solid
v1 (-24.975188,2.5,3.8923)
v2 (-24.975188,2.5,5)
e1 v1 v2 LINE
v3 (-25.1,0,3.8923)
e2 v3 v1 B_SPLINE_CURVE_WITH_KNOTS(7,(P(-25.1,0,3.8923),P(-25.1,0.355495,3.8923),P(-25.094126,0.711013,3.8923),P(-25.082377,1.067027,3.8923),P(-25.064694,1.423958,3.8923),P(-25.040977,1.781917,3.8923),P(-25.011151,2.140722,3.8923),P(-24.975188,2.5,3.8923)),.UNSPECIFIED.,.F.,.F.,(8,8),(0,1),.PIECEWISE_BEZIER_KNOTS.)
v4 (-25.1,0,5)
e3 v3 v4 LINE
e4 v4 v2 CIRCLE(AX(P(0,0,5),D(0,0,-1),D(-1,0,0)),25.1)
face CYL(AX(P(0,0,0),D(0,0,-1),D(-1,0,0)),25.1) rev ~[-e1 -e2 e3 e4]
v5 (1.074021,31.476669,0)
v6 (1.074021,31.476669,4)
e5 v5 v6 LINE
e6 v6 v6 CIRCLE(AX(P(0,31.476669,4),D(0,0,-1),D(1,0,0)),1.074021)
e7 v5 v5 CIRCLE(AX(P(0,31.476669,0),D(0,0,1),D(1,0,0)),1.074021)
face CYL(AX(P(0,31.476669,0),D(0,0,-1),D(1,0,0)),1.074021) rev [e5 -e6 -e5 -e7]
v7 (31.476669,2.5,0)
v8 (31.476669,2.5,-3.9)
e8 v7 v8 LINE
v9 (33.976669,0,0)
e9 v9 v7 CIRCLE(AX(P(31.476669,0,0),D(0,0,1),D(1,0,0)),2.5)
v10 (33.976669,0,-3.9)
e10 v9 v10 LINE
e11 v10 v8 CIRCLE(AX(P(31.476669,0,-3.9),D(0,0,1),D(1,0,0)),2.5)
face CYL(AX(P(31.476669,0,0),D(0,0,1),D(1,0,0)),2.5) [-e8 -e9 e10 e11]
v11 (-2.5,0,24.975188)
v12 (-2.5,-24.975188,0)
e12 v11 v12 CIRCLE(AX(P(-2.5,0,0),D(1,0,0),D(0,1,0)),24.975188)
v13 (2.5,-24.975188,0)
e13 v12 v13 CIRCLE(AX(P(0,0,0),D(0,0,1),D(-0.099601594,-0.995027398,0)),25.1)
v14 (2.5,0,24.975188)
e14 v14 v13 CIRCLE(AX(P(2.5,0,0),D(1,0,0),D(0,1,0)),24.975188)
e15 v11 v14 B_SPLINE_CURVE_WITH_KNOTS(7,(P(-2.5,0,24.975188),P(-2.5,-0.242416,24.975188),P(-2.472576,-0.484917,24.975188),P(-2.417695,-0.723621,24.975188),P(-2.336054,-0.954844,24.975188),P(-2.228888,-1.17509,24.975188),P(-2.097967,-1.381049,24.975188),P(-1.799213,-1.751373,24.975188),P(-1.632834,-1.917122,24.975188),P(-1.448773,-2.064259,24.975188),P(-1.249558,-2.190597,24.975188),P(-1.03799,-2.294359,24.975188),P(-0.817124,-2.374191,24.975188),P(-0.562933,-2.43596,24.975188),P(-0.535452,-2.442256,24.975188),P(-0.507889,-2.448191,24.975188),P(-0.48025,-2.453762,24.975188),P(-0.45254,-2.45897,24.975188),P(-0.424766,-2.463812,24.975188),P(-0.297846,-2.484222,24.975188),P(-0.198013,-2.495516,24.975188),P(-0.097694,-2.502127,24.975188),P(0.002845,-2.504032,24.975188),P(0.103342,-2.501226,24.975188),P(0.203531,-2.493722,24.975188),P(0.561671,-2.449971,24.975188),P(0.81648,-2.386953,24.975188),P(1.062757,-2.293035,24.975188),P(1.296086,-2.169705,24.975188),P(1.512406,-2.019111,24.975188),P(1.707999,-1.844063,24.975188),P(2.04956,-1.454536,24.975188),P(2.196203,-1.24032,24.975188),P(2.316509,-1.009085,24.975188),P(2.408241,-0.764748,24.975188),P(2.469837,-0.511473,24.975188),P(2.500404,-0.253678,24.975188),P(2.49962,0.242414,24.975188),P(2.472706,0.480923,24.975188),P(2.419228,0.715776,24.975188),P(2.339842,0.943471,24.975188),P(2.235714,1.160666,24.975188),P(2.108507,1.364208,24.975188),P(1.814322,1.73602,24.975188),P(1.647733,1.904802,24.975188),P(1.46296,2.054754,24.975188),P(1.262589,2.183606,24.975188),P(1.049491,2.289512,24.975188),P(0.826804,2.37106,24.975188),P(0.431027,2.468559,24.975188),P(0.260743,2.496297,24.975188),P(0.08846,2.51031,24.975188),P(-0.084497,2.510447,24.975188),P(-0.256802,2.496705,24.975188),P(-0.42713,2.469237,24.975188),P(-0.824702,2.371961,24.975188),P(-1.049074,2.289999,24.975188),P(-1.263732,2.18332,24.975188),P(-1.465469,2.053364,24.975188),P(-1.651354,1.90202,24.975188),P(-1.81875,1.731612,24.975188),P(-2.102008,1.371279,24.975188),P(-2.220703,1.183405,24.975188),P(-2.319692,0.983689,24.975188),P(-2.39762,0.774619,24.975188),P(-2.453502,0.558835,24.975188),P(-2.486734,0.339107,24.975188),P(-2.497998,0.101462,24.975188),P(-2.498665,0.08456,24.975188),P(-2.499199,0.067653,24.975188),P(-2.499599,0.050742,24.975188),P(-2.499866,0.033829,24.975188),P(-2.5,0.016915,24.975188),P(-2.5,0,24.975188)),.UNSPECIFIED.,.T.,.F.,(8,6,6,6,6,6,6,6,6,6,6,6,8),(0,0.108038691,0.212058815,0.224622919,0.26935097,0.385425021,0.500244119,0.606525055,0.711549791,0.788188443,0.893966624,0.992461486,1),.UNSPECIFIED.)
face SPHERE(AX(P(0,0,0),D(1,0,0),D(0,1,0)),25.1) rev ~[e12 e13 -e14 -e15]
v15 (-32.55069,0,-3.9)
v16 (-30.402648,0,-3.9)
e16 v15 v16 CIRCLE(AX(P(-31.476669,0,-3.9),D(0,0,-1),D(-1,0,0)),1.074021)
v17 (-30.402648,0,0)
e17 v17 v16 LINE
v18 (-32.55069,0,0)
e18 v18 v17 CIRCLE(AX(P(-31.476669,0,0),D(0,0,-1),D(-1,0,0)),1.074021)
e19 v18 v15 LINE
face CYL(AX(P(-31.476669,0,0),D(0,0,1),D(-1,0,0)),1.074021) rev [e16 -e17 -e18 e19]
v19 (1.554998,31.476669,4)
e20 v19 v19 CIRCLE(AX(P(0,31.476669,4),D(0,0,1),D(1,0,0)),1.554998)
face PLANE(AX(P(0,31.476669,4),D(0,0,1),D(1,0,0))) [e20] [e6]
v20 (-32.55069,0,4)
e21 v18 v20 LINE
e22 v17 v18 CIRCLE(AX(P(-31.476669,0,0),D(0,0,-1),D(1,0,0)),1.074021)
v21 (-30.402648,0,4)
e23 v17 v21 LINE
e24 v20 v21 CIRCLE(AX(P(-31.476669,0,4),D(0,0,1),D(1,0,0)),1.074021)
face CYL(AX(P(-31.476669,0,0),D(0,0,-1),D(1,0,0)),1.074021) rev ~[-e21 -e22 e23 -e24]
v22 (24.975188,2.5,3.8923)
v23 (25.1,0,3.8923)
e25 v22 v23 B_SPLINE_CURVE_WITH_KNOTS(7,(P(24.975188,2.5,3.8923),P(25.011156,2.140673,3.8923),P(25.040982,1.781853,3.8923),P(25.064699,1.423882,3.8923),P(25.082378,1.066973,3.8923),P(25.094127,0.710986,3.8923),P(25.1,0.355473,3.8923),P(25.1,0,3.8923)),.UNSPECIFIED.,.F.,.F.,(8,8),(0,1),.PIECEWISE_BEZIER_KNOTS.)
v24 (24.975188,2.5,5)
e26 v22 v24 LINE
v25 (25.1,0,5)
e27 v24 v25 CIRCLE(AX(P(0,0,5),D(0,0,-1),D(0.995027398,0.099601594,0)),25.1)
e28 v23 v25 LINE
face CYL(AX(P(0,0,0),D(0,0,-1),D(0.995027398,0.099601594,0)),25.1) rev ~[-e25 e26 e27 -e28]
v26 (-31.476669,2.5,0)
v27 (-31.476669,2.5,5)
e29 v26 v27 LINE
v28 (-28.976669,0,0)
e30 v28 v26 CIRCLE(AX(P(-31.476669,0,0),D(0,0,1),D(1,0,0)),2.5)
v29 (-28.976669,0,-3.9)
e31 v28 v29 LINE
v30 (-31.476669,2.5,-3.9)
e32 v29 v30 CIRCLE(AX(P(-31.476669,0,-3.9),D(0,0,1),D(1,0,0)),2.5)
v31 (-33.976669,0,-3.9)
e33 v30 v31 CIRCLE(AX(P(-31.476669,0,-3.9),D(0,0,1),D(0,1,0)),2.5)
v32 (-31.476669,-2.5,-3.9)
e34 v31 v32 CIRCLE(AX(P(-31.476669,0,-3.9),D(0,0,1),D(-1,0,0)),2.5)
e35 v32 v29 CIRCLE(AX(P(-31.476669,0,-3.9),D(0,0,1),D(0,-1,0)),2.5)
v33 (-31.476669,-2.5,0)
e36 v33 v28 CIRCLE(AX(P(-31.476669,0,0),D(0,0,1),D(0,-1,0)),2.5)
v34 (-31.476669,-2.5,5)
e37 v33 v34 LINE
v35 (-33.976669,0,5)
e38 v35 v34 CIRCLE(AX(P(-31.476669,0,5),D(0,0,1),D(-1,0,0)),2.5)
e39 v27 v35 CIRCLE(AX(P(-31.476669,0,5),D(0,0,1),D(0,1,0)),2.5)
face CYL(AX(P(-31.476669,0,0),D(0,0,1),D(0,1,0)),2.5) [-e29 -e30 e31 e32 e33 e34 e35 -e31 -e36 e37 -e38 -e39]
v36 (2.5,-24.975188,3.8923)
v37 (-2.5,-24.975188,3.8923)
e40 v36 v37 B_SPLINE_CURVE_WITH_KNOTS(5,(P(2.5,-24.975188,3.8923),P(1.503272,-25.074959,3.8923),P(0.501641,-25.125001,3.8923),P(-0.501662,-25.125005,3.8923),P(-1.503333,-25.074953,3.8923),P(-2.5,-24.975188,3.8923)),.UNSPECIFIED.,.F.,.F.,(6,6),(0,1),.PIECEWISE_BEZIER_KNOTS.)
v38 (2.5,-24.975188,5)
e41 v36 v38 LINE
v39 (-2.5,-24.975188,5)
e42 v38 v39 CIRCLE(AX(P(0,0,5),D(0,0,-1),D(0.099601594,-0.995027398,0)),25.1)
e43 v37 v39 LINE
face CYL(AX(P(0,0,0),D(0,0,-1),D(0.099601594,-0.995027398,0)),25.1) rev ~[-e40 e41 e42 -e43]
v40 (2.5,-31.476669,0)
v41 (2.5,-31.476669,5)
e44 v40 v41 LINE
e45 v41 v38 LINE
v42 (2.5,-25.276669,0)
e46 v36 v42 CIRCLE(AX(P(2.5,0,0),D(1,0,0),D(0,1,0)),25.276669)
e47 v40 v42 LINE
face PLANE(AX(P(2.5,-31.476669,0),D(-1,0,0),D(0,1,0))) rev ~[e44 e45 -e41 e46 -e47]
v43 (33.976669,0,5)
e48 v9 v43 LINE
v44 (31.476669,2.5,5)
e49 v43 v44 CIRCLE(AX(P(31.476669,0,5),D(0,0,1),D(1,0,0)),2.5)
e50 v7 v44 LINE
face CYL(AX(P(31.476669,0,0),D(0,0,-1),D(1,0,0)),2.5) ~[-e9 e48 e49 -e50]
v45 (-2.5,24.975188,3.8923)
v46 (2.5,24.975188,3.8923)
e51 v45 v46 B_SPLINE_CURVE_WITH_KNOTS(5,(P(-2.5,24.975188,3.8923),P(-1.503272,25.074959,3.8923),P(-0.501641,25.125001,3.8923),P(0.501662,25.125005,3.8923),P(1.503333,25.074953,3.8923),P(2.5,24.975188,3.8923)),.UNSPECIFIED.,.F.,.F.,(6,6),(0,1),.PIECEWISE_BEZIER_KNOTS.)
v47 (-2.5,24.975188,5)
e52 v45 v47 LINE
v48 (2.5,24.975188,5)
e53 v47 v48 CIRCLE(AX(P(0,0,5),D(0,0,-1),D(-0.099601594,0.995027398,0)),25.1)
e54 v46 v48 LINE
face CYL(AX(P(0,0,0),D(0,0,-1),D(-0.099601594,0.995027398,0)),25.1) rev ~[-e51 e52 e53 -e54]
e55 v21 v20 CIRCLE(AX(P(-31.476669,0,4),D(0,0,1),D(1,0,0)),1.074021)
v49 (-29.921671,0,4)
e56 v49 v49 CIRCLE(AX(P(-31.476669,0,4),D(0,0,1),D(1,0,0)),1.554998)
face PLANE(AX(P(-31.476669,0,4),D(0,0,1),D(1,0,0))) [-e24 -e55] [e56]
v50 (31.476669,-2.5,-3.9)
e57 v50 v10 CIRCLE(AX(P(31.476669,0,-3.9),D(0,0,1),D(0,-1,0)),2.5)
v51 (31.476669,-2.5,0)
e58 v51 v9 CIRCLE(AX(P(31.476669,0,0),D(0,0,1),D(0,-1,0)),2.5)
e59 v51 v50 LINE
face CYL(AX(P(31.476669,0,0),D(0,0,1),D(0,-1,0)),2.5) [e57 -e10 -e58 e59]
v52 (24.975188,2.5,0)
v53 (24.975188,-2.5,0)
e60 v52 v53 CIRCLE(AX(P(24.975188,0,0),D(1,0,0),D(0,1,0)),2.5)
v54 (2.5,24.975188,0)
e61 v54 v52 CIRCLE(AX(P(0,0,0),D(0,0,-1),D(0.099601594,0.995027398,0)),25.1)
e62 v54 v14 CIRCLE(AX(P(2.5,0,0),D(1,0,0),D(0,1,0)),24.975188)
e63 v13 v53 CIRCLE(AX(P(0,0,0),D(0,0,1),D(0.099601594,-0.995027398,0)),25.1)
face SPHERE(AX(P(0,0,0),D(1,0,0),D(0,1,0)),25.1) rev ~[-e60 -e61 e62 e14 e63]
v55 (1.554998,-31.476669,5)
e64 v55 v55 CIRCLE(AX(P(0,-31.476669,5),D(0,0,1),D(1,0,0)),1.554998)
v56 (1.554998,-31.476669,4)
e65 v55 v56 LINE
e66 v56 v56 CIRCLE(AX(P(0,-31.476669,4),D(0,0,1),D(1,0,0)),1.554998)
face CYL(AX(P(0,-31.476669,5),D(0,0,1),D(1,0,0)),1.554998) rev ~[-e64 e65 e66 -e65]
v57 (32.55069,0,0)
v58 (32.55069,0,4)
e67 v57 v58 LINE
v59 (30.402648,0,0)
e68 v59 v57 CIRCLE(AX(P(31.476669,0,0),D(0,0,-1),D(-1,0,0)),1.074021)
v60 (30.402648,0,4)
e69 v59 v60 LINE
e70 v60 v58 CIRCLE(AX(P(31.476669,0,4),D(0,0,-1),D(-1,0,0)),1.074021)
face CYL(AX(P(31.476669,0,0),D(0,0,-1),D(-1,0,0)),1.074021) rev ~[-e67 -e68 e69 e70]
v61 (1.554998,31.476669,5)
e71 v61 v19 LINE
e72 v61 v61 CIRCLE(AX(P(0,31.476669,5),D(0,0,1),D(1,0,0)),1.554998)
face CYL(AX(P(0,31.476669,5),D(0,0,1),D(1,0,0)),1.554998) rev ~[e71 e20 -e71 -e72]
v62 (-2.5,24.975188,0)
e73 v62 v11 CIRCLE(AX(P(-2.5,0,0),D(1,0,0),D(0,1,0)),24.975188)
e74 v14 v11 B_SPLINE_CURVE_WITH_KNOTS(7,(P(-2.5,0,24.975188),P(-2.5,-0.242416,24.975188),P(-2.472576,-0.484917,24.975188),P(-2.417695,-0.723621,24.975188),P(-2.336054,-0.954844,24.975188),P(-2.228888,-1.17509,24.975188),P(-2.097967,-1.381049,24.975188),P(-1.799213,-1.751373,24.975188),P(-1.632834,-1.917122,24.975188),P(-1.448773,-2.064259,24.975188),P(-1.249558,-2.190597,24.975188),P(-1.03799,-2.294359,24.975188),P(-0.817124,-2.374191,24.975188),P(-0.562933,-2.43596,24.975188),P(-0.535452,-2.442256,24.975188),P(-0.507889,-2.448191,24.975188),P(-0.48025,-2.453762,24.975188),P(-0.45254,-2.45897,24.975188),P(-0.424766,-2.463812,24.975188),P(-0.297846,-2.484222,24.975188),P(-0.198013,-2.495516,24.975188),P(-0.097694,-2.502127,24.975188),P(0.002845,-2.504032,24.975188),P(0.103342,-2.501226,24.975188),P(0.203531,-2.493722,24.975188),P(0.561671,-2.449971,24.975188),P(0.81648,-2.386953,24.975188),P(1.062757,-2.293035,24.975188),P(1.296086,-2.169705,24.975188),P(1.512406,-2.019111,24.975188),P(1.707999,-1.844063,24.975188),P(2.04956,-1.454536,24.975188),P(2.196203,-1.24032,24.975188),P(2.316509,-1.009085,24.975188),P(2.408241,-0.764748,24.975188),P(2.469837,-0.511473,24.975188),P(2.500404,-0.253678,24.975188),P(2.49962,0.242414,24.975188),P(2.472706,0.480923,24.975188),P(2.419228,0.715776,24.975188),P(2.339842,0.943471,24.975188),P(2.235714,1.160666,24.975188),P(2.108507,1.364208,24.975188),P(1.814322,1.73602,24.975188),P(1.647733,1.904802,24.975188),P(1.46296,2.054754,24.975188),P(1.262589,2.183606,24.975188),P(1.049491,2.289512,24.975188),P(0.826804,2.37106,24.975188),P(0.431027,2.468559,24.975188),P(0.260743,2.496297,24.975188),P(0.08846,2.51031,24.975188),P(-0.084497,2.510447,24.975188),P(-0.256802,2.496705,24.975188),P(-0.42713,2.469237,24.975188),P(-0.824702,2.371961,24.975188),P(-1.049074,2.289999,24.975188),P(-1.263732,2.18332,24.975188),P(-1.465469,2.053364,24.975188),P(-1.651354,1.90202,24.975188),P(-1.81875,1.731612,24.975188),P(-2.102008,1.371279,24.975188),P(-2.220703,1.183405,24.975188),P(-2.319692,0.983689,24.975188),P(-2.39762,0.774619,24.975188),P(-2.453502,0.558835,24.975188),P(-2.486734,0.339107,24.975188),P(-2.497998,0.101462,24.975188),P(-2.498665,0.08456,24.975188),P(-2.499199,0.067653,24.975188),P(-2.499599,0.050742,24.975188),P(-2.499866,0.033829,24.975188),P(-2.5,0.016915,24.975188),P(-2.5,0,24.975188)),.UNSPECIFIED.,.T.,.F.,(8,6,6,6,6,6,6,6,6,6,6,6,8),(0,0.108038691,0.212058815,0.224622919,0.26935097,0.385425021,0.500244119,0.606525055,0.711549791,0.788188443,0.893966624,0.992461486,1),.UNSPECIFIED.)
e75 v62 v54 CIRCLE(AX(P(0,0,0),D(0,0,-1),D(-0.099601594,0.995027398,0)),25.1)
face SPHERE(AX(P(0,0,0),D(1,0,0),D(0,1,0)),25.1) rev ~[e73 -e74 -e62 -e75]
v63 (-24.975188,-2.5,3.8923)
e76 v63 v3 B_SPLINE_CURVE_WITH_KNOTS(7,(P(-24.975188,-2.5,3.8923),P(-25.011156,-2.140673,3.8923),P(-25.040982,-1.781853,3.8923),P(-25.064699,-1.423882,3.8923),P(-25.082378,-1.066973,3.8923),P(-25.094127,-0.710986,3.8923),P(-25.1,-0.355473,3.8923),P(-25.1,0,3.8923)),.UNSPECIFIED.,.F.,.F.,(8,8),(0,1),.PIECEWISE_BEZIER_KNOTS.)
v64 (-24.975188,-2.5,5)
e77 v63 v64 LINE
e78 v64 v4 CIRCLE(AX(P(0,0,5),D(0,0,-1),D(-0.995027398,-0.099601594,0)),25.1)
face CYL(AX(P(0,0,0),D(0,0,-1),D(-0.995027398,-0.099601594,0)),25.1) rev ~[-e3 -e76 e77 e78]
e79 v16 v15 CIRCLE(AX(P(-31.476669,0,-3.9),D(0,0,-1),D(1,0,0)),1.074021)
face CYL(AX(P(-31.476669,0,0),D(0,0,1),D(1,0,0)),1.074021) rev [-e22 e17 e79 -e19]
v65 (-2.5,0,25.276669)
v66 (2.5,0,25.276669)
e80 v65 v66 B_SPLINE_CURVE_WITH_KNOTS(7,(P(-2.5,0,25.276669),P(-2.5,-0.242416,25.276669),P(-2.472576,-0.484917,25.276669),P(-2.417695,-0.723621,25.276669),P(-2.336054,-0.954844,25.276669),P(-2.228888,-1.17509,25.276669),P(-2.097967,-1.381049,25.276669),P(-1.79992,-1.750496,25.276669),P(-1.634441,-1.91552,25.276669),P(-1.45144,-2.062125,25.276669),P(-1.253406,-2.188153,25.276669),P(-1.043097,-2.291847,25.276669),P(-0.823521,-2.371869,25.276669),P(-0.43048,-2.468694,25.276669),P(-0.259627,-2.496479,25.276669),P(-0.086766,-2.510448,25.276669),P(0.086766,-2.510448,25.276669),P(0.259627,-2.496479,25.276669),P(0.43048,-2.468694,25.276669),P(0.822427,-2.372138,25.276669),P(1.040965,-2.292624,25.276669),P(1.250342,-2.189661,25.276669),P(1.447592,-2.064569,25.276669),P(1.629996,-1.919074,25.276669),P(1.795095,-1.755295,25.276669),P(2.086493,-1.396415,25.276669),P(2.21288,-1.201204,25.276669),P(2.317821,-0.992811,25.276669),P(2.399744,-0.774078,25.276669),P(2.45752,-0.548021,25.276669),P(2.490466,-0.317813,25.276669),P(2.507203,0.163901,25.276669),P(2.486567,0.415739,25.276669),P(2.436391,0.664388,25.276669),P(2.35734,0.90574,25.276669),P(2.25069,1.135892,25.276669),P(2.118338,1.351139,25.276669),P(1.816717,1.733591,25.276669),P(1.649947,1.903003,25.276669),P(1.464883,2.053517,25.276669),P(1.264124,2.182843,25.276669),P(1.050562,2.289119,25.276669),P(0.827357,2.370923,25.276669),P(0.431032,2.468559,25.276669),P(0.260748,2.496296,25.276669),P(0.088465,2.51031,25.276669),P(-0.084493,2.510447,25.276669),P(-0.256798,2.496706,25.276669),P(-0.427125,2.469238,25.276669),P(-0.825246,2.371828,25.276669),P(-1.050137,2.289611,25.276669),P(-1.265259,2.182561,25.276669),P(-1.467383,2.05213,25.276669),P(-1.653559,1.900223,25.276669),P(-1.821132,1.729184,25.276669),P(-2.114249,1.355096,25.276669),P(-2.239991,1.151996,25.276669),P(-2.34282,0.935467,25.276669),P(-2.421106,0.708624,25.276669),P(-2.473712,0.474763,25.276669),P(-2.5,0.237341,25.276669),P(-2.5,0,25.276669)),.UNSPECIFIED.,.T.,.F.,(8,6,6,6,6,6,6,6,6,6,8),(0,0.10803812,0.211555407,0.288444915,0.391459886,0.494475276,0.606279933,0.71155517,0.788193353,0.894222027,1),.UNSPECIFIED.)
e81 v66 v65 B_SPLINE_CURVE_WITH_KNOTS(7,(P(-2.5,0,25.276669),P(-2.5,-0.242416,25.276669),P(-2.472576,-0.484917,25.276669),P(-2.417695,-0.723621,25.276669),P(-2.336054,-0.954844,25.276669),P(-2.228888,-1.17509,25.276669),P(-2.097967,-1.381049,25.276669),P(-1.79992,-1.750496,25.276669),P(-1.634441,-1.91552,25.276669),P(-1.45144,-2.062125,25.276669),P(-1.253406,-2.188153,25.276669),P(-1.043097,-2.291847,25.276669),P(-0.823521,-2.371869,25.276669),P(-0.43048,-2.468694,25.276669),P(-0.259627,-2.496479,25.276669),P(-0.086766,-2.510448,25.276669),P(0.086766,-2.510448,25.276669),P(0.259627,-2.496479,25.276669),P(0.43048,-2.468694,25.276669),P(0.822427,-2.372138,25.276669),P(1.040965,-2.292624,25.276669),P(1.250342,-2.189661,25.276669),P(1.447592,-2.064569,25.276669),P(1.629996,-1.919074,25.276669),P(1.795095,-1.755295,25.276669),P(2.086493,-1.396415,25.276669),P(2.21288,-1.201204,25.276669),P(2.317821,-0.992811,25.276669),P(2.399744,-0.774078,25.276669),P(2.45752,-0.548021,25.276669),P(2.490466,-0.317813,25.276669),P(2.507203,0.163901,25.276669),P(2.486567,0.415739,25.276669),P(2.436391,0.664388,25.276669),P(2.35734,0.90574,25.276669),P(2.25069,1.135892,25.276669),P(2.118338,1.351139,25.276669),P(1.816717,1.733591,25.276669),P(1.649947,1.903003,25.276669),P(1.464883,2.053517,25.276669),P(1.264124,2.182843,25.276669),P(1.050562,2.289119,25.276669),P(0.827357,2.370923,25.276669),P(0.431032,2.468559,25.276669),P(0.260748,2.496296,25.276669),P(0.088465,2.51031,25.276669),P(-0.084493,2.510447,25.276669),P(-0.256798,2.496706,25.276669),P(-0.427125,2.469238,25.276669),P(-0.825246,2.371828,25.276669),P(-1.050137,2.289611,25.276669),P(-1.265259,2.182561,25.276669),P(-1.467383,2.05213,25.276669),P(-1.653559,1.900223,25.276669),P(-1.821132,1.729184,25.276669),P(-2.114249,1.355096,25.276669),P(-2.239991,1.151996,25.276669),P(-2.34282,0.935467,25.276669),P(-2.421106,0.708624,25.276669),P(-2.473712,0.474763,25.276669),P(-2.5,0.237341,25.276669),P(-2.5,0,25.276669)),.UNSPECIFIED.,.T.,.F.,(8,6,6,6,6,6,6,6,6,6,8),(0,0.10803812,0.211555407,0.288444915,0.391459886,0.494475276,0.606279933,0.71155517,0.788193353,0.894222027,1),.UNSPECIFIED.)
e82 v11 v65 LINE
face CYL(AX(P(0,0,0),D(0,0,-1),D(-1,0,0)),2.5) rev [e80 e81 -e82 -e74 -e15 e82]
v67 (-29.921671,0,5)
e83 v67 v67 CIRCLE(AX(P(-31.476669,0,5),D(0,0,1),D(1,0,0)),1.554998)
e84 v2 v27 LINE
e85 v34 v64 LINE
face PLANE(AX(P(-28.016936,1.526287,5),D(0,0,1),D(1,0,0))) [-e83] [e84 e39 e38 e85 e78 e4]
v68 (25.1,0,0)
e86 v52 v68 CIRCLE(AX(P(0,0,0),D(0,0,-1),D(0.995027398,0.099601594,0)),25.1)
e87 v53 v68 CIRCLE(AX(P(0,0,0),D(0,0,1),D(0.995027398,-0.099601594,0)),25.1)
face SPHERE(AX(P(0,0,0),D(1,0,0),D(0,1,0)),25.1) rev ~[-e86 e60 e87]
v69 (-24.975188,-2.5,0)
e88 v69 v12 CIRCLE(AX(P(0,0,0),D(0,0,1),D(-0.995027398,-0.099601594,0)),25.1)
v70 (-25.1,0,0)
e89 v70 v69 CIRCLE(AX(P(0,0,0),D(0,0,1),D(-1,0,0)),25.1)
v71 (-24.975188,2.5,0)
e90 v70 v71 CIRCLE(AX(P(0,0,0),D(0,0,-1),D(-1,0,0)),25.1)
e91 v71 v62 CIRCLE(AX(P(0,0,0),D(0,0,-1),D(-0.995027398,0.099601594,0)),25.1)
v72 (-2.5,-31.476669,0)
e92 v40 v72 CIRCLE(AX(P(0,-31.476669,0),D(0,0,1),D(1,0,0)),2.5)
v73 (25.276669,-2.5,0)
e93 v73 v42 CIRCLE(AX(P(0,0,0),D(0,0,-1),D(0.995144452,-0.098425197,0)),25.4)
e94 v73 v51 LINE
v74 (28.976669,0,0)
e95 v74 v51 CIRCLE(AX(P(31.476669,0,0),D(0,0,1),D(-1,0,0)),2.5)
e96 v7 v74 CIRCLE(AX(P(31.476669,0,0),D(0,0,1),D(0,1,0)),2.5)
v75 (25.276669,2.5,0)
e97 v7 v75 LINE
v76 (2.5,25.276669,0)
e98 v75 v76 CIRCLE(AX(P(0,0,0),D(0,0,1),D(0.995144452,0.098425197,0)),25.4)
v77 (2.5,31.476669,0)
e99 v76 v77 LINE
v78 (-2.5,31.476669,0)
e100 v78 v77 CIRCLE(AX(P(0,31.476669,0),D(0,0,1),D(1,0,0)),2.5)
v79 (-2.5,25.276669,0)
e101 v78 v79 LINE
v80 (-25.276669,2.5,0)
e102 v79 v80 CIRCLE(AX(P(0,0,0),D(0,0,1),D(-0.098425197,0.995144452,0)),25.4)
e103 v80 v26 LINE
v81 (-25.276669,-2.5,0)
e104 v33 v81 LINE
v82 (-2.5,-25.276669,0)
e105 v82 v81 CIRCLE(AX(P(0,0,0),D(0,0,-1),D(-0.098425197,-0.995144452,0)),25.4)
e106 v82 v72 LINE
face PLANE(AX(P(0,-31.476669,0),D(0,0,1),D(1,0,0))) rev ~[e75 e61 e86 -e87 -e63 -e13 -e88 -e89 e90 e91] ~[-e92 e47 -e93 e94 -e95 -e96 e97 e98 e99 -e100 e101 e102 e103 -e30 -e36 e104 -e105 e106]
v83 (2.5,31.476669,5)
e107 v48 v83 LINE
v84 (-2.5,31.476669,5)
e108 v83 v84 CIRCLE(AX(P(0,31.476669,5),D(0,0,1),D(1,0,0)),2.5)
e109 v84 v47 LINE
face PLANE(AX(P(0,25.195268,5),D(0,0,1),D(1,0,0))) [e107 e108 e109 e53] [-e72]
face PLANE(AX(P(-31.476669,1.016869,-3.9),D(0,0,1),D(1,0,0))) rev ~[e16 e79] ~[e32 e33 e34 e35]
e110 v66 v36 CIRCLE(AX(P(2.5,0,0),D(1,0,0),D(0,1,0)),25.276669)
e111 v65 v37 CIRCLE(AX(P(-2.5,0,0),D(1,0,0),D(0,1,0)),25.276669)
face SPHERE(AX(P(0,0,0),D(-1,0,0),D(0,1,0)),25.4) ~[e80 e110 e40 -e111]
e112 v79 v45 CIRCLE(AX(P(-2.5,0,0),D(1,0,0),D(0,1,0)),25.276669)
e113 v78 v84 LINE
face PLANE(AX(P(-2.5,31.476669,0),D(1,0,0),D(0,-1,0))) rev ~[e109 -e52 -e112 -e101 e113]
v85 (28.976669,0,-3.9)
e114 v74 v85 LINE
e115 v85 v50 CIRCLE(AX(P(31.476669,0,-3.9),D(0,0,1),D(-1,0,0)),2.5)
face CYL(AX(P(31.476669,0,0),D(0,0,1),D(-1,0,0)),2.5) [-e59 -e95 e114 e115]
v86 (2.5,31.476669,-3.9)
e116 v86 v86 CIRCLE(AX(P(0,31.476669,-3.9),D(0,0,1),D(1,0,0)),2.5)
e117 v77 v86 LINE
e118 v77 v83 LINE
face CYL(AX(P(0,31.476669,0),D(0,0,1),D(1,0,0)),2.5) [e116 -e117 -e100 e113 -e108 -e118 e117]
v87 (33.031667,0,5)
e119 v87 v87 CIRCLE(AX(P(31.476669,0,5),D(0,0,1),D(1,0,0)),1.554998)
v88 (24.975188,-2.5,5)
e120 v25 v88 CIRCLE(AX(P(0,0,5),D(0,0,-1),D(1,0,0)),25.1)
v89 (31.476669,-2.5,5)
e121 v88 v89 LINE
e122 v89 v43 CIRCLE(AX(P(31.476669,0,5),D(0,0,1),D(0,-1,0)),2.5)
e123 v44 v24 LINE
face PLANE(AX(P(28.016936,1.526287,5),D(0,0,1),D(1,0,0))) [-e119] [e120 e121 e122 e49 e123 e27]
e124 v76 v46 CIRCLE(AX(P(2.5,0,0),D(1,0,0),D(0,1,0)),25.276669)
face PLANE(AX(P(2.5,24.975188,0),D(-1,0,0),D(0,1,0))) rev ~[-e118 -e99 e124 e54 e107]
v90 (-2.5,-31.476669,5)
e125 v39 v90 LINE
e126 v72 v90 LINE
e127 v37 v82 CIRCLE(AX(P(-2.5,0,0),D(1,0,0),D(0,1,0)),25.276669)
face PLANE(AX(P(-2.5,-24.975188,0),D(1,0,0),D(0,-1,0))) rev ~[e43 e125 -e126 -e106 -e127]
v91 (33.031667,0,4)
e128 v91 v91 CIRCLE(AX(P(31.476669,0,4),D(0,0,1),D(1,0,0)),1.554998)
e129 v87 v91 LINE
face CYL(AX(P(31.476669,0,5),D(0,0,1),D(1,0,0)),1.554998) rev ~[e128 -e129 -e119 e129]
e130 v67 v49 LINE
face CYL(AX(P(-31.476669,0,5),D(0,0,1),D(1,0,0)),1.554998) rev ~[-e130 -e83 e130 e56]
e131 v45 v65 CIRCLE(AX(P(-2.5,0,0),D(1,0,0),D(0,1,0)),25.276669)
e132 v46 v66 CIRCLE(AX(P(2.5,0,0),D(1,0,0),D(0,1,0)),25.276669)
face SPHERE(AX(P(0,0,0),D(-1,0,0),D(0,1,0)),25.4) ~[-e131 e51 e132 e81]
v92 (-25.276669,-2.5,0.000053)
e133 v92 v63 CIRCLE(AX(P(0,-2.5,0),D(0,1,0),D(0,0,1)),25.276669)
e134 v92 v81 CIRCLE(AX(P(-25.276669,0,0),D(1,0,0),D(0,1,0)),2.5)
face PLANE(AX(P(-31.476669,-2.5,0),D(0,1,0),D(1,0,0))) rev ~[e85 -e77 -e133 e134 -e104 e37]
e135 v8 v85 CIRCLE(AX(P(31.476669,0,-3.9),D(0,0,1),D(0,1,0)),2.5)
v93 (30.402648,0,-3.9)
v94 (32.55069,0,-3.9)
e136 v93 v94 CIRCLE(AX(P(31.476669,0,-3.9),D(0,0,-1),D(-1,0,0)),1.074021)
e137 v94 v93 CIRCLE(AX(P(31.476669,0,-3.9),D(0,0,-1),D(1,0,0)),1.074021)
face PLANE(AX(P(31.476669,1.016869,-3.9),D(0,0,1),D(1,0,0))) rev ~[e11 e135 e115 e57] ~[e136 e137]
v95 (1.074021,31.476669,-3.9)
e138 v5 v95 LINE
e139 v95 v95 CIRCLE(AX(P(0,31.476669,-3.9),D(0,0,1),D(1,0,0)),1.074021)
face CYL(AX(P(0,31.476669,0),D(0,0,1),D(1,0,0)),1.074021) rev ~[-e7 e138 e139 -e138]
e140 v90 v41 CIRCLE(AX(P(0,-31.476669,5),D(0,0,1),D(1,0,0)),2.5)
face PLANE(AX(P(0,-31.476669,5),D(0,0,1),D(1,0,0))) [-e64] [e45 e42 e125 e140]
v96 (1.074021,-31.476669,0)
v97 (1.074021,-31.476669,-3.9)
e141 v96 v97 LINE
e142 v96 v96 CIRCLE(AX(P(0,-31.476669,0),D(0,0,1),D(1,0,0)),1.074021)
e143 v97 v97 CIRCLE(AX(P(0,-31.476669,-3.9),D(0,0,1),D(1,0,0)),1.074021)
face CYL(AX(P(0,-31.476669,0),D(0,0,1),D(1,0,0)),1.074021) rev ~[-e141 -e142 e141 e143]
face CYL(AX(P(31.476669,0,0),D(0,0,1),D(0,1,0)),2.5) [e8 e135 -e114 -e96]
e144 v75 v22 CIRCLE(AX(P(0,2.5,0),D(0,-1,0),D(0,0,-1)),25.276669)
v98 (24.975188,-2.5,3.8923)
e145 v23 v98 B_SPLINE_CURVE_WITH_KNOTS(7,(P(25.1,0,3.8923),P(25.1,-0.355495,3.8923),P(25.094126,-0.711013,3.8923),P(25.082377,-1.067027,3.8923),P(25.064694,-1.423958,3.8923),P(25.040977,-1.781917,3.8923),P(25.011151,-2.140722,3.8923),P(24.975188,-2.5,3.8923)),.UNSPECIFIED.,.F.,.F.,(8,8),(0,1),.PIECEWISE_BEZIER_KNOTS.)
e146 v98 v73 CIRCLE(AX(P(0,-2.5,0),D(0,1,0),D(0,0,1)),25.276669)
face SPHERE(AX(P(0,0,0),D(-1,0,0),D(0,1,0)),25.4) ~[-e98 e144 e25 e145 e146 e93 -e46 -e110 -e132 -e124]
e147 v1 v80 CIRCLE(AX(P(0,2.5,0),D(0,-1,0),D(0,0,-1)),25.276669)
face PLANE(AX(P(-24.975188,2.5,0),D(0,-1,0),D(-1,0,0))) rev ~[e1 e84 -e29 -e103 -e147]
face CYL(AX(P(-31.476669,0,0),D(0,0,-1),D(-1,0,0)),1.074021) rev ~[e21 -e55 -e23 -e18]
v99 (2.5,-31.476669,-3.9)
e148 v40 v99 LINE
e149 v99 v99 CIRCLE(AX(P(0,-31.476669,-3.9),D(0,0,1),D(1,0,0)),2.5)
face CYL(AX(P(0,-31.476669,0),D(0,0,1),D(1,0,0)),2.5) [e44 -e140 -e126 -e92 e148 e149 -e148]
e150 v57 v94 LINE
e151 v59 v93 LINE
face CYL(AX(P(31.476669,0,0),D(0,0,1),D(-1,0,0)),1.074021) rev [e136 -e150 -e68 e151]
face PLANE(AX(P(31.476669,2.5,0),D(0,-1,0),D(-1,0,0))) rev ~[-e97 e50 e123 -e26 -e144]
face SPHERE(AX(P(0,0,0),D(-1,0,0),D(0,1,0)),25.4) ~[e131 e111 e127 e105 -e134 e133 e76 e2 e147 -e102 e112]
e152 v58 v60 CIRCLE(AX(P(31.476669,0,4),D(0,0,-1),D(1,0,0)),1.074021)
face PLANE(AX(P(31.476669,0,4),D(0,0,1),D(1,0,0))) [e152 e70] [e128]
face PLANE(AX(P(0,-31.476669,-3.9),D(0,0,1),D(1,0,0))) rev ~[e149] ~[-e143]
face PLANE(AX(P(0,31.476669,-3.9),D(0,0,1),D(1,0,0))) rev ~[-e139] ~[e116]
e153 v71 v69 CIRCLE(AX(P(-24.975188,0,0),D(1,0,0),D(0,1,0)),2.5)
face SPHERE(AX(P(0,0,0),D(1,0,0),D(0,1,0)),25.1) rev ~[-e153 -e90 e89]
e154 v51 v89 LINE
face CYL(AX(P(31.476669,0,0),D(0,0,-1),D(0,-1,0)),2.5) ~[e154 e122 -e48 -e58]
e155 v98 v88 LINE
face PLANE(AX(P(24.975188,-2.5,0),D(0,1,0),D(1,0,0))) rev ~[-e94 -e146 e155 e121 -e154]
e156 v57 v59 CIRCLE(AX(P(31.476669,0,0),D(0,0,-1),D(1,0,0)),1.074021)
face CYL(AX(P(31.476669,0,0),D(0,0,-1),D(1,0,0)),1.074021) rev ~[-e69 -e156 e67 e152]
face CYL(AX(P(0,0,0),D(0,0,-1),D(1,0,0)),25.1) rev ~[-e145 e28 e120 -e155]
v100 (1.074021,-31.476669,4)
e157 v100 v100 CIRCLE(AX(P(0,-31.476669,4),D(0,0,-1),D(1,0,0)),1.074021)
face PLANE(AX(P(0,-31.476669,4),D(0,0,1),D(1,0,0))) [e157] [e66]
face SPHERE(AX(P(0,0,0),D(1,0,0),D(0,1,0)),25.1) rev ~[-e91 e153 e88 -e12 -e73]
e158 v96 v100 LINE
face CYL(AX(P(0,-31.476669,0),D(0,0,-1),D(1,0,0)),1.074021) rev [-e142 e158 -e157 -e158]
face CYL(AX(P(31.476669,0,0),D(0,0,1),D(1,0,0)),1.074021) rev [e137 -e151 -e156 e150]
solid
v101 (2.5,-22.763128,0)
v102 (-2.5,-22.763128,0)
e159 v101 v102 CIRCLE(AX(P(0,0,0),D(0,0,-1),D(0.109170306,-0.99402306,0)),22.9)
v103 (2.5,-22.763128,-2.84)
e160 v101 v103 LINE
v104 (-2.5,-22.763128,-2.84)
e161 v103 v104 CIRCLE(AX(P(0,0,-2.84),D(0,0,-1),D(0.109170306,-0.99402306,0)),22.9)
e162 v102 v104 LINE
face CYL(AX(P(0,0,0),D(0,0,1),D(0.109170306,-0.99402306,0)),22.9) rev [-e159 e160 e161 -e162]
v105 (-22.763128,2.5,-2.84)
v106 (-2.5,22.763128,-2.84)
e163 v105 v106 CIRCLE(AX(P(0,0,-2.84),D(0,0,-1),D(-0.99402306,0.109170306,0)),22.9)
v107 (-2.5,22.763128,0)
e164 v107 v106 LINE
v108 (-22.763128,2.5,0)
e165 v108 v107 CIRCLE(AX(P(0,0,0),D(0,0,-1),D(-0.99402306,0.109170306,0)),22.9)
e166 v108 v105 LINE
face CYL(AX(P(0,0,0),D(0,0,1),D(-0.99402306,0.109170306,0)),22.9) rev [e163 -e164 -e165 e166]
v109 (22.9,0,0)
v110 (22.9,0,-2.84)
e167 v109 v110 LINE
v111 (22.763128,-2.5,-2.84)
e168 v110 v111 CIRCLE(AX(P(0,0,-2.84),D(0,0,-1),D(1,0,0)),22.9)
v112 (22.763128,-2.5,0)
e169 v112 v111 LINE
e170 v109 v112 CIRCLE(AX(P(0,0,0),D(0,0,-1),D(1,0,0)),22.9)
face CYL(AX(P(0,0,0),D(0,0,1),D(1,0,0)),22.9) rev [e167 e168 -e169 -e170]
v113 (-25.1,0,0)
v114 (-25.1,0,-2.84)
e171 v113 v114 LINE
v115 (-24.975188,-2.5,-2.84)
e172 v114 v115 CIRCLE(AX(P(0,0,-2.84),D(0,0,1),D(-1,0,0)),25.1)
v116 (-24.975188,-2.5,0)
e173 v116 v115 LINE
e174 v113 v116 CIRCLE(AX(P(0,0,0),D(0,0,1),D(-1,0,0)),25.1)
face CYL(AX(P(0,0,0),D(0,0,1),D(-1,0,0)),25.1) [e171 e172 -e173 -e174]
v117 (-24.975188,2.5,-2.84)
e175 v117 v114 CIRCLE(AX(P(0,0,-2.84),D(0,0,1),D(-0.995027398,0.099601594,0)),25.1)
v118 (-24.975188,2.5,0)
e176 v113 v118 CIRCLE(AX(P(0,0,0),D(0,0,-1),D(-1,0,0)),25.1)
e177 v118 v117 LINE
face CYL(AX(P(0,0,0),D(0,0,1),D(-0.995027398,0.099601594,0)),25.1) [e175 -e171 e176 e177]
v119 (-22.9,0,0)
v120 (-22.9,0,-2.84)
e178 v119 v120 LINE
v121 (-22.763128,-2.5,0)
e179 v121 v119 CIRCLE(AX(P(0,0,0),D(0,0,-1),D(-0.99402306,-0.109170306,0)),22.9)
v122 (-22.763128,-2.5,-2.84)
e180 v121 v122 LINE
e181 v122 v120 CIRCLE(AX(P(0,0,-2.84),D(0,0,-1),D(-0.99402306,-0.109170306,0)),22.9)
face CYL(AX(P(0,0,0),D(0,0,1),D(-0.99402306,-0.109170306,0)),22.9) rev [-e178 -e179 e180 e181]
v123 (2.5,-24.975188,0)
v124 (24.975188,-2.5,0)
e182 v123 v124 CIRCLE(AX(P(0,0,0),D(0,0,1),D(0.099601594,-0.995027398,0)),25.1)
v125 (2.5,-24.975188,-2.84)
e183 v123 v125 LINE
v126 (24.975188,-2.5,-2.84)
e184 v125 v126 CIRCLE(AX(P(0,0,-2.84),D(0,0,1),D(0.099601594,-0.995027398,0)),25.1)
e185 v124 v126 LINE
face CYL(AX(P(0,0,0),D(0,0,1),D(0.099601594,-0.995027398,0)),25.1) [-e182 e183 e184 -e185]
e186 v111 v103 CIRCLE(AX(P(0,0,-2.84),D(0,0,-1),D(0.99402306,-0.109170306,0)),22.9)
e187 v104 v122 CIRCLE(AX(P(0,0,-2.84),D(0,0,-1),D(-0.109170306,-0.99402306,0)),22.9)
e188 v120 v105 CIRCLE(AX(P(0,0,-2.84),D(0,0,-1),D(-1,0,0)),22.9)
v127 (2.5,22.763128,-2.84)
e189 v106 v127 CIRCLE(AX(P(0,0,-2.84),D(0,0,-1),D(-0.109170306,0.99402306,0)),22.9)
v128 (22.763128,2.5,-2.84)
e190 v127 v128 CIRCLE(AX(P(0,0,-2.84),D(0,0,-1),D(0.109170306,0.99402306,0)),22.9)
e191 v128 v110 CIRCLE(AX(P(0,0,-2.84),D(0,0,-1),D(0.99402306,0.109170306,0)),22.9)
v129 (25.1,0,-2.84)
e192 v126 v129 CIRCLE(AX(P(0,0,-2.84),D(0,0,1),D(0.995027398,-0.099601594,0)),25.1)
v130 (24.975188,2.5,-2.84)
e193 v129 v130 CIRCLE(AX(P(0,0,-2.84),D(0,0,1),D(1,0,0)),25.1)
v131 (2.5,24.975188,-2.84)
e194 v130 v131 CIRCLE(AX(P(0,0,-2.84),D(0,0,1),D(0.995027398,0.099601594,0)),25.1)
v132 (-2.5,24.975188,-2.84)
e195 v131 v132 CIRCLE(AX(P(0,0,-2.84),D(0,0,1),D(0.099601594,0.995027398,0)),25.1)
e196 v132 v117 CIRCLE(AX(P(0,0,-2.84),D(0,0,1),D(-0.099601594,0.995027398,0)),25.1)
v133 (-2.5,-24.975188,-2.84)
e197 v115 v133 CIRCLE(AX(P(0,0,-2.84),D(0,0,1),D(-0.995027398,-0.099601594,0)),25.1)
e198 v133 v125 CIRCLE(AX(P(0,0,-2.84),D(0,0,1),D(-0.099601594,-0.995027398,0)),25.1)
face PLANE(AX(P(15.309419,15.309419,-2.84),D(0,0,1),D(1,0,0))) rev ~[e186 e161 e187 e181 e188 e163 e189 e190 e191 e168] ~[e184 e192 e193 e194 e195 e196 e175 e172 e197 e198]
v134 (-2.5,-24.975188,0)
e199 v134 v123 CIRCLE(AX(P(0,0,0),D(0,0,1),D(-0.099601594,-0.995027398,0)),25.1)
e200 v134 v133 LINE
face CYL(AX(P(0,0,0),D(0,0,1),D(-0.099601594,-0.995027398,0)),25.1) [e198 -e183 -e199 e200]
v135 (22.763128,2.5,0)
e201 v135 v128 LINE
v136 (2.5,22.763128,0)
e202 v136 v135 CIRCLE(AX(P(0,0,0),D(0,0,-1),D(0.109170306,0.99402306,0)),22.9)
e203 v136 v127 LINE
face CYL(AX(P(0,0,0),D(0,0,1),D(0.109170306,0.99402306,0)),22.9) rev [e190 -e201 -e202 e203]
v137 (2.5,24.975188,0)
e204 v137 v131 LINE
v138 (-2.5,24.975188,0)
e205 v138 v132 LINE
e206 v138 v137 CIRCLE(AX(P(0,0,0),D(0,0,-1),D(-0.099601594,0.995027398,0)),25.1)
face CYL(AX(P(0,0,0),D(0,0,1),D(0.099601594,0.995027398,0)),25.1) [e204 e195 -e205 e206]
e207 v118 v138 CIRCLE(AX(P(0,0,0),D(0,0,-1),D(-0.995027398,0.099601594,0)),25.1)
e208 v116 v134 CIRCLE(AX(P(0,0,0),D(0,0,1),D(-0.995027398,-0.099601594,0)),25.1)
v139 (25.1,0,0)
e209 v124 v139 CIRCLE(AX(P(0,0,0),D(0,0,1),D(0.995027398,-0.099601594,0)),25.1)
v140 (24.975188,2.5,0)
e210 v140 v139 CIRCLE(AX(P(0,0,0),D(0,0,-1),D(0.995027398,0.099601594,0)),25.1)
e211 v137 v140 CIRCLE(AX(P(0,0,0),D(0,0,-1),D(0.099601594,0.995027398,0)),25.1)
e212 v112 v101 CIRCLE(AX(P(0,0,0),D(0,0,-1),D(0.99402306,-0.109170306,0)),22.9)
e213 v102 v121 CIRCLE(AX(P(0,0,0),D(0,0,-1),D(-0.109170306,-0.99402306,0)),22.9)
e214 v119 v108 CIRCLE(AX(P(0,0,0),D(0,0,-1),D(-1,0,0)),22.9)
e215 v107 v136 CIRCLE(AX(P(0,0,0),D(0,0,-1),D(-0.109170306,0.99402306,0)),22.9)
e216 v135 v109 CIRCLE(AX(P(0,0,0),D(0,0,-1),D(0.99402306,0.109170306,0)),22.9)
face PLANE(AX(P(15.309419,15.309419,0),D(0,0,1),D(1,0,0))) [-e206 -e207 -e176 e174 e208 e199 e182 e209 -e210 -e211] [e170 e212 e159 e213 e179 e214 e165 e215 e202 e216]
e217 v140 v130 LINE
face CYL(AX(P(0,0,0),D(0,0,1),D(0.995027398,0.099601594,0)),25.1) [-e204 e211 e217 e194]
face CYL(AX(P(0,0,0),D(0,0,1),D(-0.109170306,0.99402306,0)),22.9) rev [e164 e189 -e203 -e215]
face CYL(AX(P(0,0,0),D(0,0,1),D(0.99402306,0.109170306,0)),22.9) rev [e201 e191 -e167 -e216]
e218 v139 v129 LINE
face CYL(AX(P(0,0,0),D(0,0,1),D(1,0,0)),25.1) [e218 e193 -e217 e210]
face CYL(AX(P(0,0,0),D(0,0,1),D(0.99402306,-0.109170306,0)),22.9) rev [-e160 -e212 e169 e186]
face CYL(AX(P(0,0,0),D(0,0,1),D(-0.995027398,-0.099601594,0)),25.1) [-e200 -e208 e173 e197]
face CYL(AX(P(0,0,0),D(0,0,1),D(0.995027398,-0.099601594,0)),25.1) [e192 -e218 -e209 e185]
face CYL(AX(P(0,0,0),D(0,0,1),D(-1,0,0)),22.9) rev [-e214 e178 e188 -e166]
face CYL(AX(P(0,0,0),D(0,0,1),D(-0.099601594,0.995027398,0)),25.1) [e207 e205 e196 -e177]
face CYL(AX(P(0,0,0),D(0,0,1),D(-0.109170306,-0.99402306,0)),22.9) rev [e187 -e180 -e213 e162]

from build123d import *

# Parameters (mm, degrees)
F1_ANGLE = 180
F2_DEPTH = 5
F0_R     = 1.0740208256
F3_DEPTH = 2.84
F4_DEPTH = 3.9
F5_R     = 1.5549983164
F5_R_2   = 1.0740208256
F6_DEPTH = 1
F7_DEPTH = 50


with BuildPart() as f1:
    # F0 (on Top) → F1 (revolve)
    with BuildSketch(Plane.XY):
        with BuildLine():
            Line((24.975187687, 2.5), (25.2766690844, 2.5))
            ThreePointArc((25.2766690844, 2.5), (17.9605122421, 17.9605122421), (2.5, 25.2766690844))
            Line((2.5, 25.2766690844), (2.5, 24.975187687))
            ThreePointArc((2.5, 24.975187687), (17.7483802078, 17.7483802078), (24.975187687, 2.5))
        make_face()
        with BuildLine():
            Line((25.1, 0), (25.4, 0))
            ThreePointArc((25.4, 0), (25.3691485346, 1.2515201272), (25.2766690844, 2.5))
            Line((25.2766690844, 2.5), (24.975187687, 2.5))
            ThreePointArc((24.975187687, 2.5), (25.0687775025, 1.2515568418), (25.1, 0))
        make_face()
        with BuildLine():
            Line((2.5, 24.975187687), (2.5, 25.2766690844))
            ThreePointArc((2.5, 25.2766690844), (0, 25.4), (-2.5, 25.2766690844))
            Line((-2.5, 25.2766690844), (-2.5, 24.975187687))
            ThreePointArc((-2.5, 24.975187687), (0, 25.1), (2.5, 24.975187687))
        make_face()
        with BuildLine():
            Line((-2.5, 24.975187687), (-2.5, 25.2766690844))
            ThreePointArc((-2.5, 25.2766690844), (-17.9605122421, 17.9605122421), (-25.2766690844, 2.5))
            Line((-25.2766690844, 2.5), (-24.975187687, 2.5))
            ThreePointArc((-24.975187687, 2.5), (-17.7483802078, 17.7483802078), (-2.5, 24.975187687))
        make_face()
        with BuildLine():
            Line((-24.975187687, 2.5), (-25.2766690844, 2.5))
            ThreePointArc((-25.2766690844, 2.5), (-25.3691485346, 1.2515201272), (-25.4, 0))
            Line((-25.4, 0), (-25.1, 0))
            ThreePointArc((-25.1, 0), (-25.0687775025, 1.2515568418), (-24.975187687, 2.5))
        make_face()
    revolve(axis=Axis((0.945251435, 0, 0), (1, 0, 0)), revolution_arc=F1_ANGLE)



with BuildPart() as f2:
    # F0 (on Top) → F2 (new body)
    with BuildSketch(Plane.XY):
        with BuildLine():
            ThreePointArc((25.2766690844, 2.5), (25.3691485346, 1.2515201272), (25.4, 0))
            Line((25.4, 0), (28.9766690844, 0))
            ThreePointArc((28.9766690844, 0), (29.7089021314, 1.767766953), (31.4766690844, 2.5))
            Line((31.4766690844, 2.5), (25.2766690844, 2.5))
        make_face()
        with BuildLine():
            Line((28.9766690844, 0), (25.4, 0))
            ThreePointArc((25.4, 0), (25.3691485346, -1.2515201272), (25.2766690844, -2.5))
            Line((25.2766690844, -2.5), (31.4766690844, -2.5))
            ThreePointArc((31.4766690844, -2.5), (29.7089021314, -1.767766953), (28.9766690844, 0))
        make_face()
        with BuildLine():
            ThreePointArc((31.4766690844, 2.5), (29.7089021314, 1.767766953), (28.9766690844, 0))
            Line((28.9766690844, 0), (30.4026482587, 0))
            ThreePointArc((30.4026482587, 0), (31.4766690844, 1.0740208256), (32.55068991, 0))
            Line((32.55068991, 0), (33.9766690844, 0))
            ThreePointArc((33.9766690844, 0), (33.2444360373, 1.767766953), (31.4766690844, 2.5))
        make_face()
        with BuildLine():
            Line((30.4026482587, 0), (28.9766690844, 0))
            ThreePointArc((28.9766690844, 0), (29.7089021314, -1.767766953), (31.4766690844, -2.5))
            ThreePointArc((31.4766690844, -2.5), (33.2444360373, -1.767766953), (33.9766690844, 0))
            Line((33.9766690844, 0), (32.55068991, 0))
            ThreePointArc((32.55068991, 0), (31.4766690844, -1.0740208256), (30.4026482587, 0))
        make_face()
        with BuildLine():
            Line((25.1, 0), (25.4, 0))
            ThreePointArc((25.4, 0), (25.3691485346, 1.2515201272), (25.2766690844, 2.5))
            Line((25.2766690844, 2.5), (24.975187687, 2.5))
            ThreePointArc((24.975187687, 2.5), (25.0687775025, 1.2515568418), (25.1, 0))
        make_face()
        with BuildLine():
            ThreePointArc((25.2766690844, -2.5), (25.3691485346, -1.2515201272), (25.4, 0))
            Line((25.4, 0), (25.1, 0))
            ThreePointArc((25.1, 0), (25.0687775025, -1.2515568418), (24.975187687, -2.5))
            Line((24.975187687, -2.5), (25.2766690844, -2.5))
        make_face()
    extrude(amount=F2_DEPTH)


with BuildPart() as f2b:
    # F0 (on Top) → F2, piece 2 (new body)
    with BuildSketch(Plane.XY):
        with BuildLine():
            Line((2.5, 24.975187687), (2.5, 25.2766690844))
            ThreePointArc((2.5, 25.2766690844), (0, 25.4), (-2.5, 25.2766690844))
            Line((-2.5, 25.2766690844), (-2.5, 24.975187687))
            ThreePointArc((-2.5, 24.975187687), (0, 25.1), (2.5, 24.975187687))
        make_face()
        with BuildLine():
            ThreePointArc((-2.5, 25.2766690844), (0, 25.4), (2.5, 25.2766690844))
            Line((2.5, 25.2766690844), (2.5, 31.4766690844))
            ThreePointArc((2.5, 31.4766690844), (0, 28.9766690844), (-2.5, 31.4766690844))
            Line((-2.5, 31.4766690844), (-2.5, 25.2766690844))
        make_face()
        with BuildLine():
            ThreePointArc((-2.5, 31.4766690844), (0, 28.9766690844), (2.5, 31.4766690844))
            ThreePointArc((2.5, 31.4766690844), (0, 33.9766690844), (-2.5, 31.4766690844))
        make_face()
        with Locations((0, 31.4766690844)):
            Circle(F0_R, mode=Mode.SUBTRACT)
    extrude(amount=F2_DEPTH)


with BuildPart() as f2c:
    # F0 (on Top) → F2, piece 3 (new body)
    with BuildSketch(Plane.XY):
        with BuildLine():
            ThreePointArc((-25.4, 0), (-25.3691485346, 1.2515201272), (-25.2766690844, 2.5))
            Line((-25.2766690844, 2.5), (-31.4766690844, 2.5))
            ThreePointArc((-31.4766690844, 2.5), (-29.7089021314, 1.767766953), (-28.9766690844, 0))
            Line((-28.9766690844, 0), (-25.4, 0))
        make_face()
        with BuildLine():
            ThreePointArc((-28.9766690844, 0), (-29.7089021314, 1.767766953), (-31.4766690844, 2.5))
            ThreePointArc((-31.4766690844, 2.5), (-33.2444360373, 1.767766953), (-33.9766690844, 0))
            Line((-33.9766690844, 0), (-32.55068991, 0))
            ThreePointArc((-32.55068991, 0), (-31.4766690844, 1.0740208256), (-30.4026482587, 0))
            Line((-30.4026482587, 0), (-28.9766690844, 0))
        make_face()
        with BuildLine():
            ThreePointArc((-33.9766690844, 0), (-33.2444360373, -1.767766953), (-31.4766690844, -2.5))
            ThreePointArc((-31.4766690844, -2.5), (-29.7089021314, -1.767766953), (-28.9766690844, 0))
            Line((-28.9766690844, 0), (-30.4026482587, 0))
            ThreePointArc((-30.4026482587, 0), (-31.4766690844, -1.0740208256), (-32.55068991, 0))
            Line((-32.55068991, 0), (-33.9766690844, 0))
        make_face()
        with BuildLine():
            Line((-31.4766690844, -2.5), (-25.2766690844, -2.5))
            ThreePointArc((-25.2766690844, -2.5), (-25.3691485346, -1.2515201272), (-25.4, 0))
            Line((-25.4, 0), (-28.9766690844, 0))
            ThreePointArc((-28.9766690844, 0), (-29.7089021314, -1.767766953), (-31.4766690844, -2.5))
        make_face()
        with BuildLine():
            ThreePointArc((-25.4, 0), (-25.3691485346, -1.2515201272), (-25.2766690844, -2.5))
            Line((-25.2766690844, -2.5), (-24.975187687, -2.5))
            ThreePointArc((-24.975187687, -2.5), (-25.0687775025, -1.2515568418), (-25.1, 0))
            Line((-25.1, 0), (-25.4, 0))
        make_face()
        with BuildLine():
            Line((-24.975187687, 2.5), (-25.2766690844, 2.5))
            ThreePointArc((-25.2766690844, 2.5), (-25.3691485346, 1.2515201272), (-25.4, 0))
            Line((-25.4, 0), (-25.1, 0))
            ThreePointArc((-25.1, 0), (-25.0687775025, 1.2515568418), (-24.975187687, 2.5))
        make_face()
    extrude(amount=F2_DEPTH)


with BuildPart() as f2d:
    # F0 (on Top) → F2, piece 4 (new body)
    with BuildSketch(Plane.XY):
        with BuildLine():
            ThreePointArc((-2.5, -31.4766690844), (0, -33.9766690844), (2.5, -31.4766690844))
            ThreePointArc((2.5, -31.4766690844), (0, -28.9766690844), (-2.5, -31.4766690844))
        make_face()
        with Locations((0, -31.4766690844)):
            Circle(F0_R, mode=Mode.SUBTRACT)
        with BuildLine():
            Line((2.5, -31.4766690844), (2.5, -25.2766690844))
            ThreePointArc((2.5, -25.2766690844), (0, -25.4), (-2.5, -25.2766690844))
            Line((-2.5, -25.2766690844), (-2.5, -31.4766690844))
            ThreePointArc((-2.5, -31.4766690844), (0, -28.9766690844), (2.5, -31.4766690844))
        make_face()
        with BuildLine():
            ThreePointArc((-2.5, -25.2766690844), (0, -25.4), (2.5, -25.2766690844))
            Line((2.5, -25.2766690844), (2.5, -24.975187687))
            ThreePointArc((2.5, -24.975187687), (0, -25.1), (-2.5, -24.975187687))
            Line((-2.5, -24.975187687), (-2.5, -25.2766690844))
        make_face()
    extrude(amount=F2_DEPTH)


with BuildPart() as f1_1:
    add(f1.part)

    add(f2.part)  # F3 merges F2

    add(f2b.part)  # F3 merges F2b

    add(f2c.part)  # F3 merges F2c

    add(f2d.part)  # F3 merges F2d
    # F0 (on Top) → F3 (join)
    with BuildSketch(Plane.XY):
        with BuildLine():
            Line((22.7631280803, 2.5), (24.975187687, 2.5))
            ThreePointArc((24.975187687, 2.5), (17.7483802078, 17.7483802078), (2.5, 24.975187687))
            Line((2.5, 24.975187687), (2.5, 22.7631280803))
            ThreePointArc((2.5, 22.7631280803), (16.1927452892, 16.1927452892), (22.7631280803, 2.5))
        make_face()
        with BuildLine():
            Line((22.9, 0), (25.1, 0))
            ThreePointArc((25.1, 0), (25.0687775025, 1.2515568418), (24.975187687, 2.5))
            Line((24.975187687, 2.5), (22.7631280803, 2.5))
            ThreePointArc((22.7631280803, 2.5), (22.865756417, 1.2518719905), (22.9, 0))
        make_face()
        with BuildLine():
            ThreePointArc((24.975187687, -2.5), (25.0687775025, -1.2515568418), (25.1, 0))
            Line((25.1, 0), (22.9, 0))
            ThreePointArc((22.9, 0), (22.865756417, -1.2518719905), (22.7631280803, -2.5))
            Line((22.7631280803, -2.5), (24.975187687, -2.5))
        make_face()
        with BuildLine():
            ThreePointArc((2.5, -24.975187687), (17.7483802078, -17.7483802078), (24.975187687, -2.5))
            Line((24.975187687, -2.5), (22.7631280803, -2.5))
            ThreePointArc((22.7631280803, -2.5), (16.1927452892, -16.1927452892), (2.5, -22.7631280803))
            Line((2.5, -22.7631280803), (2.5, -24.975187687))
        make_face()
        with BuildLine():
            ThreePointArc((-2.5, -24.975187687), (0, -25.1), (2.5, -24.975187687))
            Line((2.5, -24.975187687), (2.5, -22.7631280803))
            ThreePointArc((2.5, -22.7631280803), (0, -22.9), (-2.5, -22.7631280803))
            Line((-2.5, -22.7631280803), (-2.5, -24.975187687))
        make_face()
        with BuildLine():
            ThreePointArc((-24.975187687, -2.5), (-17.7483802078, -17.7483802078), (-2.5, -24.975187687))
            Line((-2.5, -24.975187687), (-2.5, -22.7631280803))
            ThreePointArc((-2.5, -22.7631280803), (-16.1927452892, -16.1927452892), (-22.7631280803, -2.5))
            Line((-22.7631280803, -2.5), (-24.975187687, -2.5))
        make_face()
        with BuildLine():
            ThreePointArc((-25.1, 0), (-25.0687775025, -1.2515568418), (-24.975187687, -2.5))
            Line((-24.975187687, -2.5), (-22.7631280803, -2.5))
            ThreePointArc((-22.7631280803, -2.5), (-22.865756417, -1.2518719905), (-22.9, 0))
            Line((-22.9, 0), (-25.1, 0))
        make_face()
        with BuildLine():
            Line((-22.7631280803, 2.5), (-24.975187687, 2.5))
            ThreePointArc((-24.975187687, 2.5), (-25.0687775025, 1.2515568418), (-25.1, 0))
            Line((-25.1, 0), (-22.9, 0))
            ThreePointArc((-22.9, 0), (-22.865756417, 1.2518719905), (-22.7631280803, 2.5))
        make_face()
        with BuildLine():
            Line((-2.5, 22.7631280803), (-2.5, 24.975187687))
            ThreePointArc((-2.5, 24.975187687), (-17.7483802078, 17.7483802078), (-24.975187687, 2.5))
            Line((-24.975187687, 2.5), (-22.7631280803, 2.5))
            ThreePointArc((-22.7631280803, 2.5), (-16.1927452892, 16.1927452892), (-2.5, 22.7631280803))
        make_face()
        with BuildLine():
            Line((2.5, 22.7631280803), (2.5, 24.975187687))
            ThreePointArc((2.5, 24.975187687), (0, 25.1), (-2.5, 24.975187687))
            Line((-2.5, 24.975187687), (-2.5, 22.7631280803))
            ThreePointArc((-2.5, 22.7631280803), (0, 22.9), (2.5, 22.7631280803))
        make_face()
    extrude(amount=-F3_DEPTH)

    # F0 (on Top) → F4 (join)
    with BuildSketch(Plane.XY):
        with BuildLine():
            ThreePointArc((-28.9766690844, 0), (-29.7089021314, 1.767766953), (-31.4766690844, 2.5))
            ThreePointArc((-31.4766690844, 2.5), (-33.2444360373, 1.767766953), (-33.9766690844, 0))
            Line((-33.9766690844, 0), (-32.55068991, 0))
            ThreePointArc((-32.55068991, 0), (-31.4766690844, 1.0740208256), (-30.4026482587, 0))
            Line((-30.4026482587, 0), (-28.9766690844, 0))
        make_face()
        with BuildLine():
            ThreePointArc((-33.9766690844, 0), (-33.2444360373, -1.767766953), (-31.4766690844, -2.5))
            ThreePointArc((-31.4766690844, -2.5), (-29.7089021314, -1.767766953), (-28.9766690844, 0))
            Line((-28.9766690844, 0), (-30.4026482587, 0))
            ThreePointArc((-30.4026482587, 0), (-31.4766690844, -1.0740208256), (-32.55068991, 0))
            Line((-32.55068991, 0), (-33.9766690844, 0))
        make_face()
        with BuildLine():
            ThreePointArc((-2.5, -31.4766690844), (0, -33.9766690844), (2.5, -31.4766690844))
            ThreePointArc((2.5, -31.4766690844), (0, -28.9766690844), (-2.5, -31.4766690844))
        make_face()
        with Locations((0, -31.4766690844)):
            Circle(F0_R, mode=Mode.SUBTRACT)
        with BuildLine():
            ThreePointArc((-2.5, 31.4766690844), (0, 28.9766690844), (2.5, 31.4766690844))
            ThreePointArc((2.5, 31.4766690844), (0, 33.9766690844), (-2.5, 31.4766690844))
        make_face()
        with Locations((0, 31.4766690844)):
            Circle(F0_R, mode=Mode.SUBTRACT)
        with BuildLine():
            ThreePointArc((31.4766690844, 2.5), (29.7089021314, 1.767766953), (28.9766690844, 0))
            Line((28.9766690844, 0), (30.4026482587, 0))
            ThreePointArc((30.4026482587, 0), (31.4766690844, 1.0740208256), (32.55068991, 0))
            Line((32.55068991, 0), (33.9766690844, 0))
            ThreePointArc((33.9766690844, 0), (33.2444360373, 1.767766953), (31.4766690844, 2.5))
        make_face()
        with BuildLine():
            Line((30.4026482587, 0), (28.9766690844, 0))
            ThreePointArc((28.9766690844, 0), (29.7089021314, -1.767766953), (31.4766690844, -2.5))
            ThreePointArc((31.4766690844, -2.5), (33.2444360373, -1.767766953), (33.9766690844, 0))
            Line((33.9766690844, 0), (32.55068991, 0))
            ThreePointArc((32.55068991, 0), (31.4766690844, -1.0740208256), (30.4026482587, 0))
        make_face()
    extrude(amount=-F4_DEPTH)

    # F5 (on face) → F6 (cut)
    with BuildSketch(Plane.XY.offset(5)):
        with Locations((0, -31.4766690844)):
            Circle(F5_R)
        with Locations((-31.4766690844, 0)):
            Circle(F5_R)
        with Locations((-31.4766690844, 0)):
            Circle(F5_R_2, mode=Mode.SUBTRACT)
        with Locations((0, 31.4766690844)):
            Circle(F5_R)
        with Locations((31.4766690844, 0)):
            Circle(F5_R)
    extrude(amount=-F6_DEPTH, mode=Mode.SUBTRACT)

    # F0 (on Top) → F7 (cut)
    with BuildSketch(Plane.XY):
        with BuildLine():
            Line((-2.5, 0), (2.5, 0))
            ThreePointArc((2.5, 0), (0, 2.5), (-2.5, 0))
        make_face()
        with BuildLine():
            ThreePointArc((-2.5, 0), (0, -2.5), (2.5, 0))
            Line((2.5, 0), (-2.5, 0))
        make_face()
    extrude(amount=F7_DEPTH, mode=Mode.SUBTRACT)


solid = f1_1.part
